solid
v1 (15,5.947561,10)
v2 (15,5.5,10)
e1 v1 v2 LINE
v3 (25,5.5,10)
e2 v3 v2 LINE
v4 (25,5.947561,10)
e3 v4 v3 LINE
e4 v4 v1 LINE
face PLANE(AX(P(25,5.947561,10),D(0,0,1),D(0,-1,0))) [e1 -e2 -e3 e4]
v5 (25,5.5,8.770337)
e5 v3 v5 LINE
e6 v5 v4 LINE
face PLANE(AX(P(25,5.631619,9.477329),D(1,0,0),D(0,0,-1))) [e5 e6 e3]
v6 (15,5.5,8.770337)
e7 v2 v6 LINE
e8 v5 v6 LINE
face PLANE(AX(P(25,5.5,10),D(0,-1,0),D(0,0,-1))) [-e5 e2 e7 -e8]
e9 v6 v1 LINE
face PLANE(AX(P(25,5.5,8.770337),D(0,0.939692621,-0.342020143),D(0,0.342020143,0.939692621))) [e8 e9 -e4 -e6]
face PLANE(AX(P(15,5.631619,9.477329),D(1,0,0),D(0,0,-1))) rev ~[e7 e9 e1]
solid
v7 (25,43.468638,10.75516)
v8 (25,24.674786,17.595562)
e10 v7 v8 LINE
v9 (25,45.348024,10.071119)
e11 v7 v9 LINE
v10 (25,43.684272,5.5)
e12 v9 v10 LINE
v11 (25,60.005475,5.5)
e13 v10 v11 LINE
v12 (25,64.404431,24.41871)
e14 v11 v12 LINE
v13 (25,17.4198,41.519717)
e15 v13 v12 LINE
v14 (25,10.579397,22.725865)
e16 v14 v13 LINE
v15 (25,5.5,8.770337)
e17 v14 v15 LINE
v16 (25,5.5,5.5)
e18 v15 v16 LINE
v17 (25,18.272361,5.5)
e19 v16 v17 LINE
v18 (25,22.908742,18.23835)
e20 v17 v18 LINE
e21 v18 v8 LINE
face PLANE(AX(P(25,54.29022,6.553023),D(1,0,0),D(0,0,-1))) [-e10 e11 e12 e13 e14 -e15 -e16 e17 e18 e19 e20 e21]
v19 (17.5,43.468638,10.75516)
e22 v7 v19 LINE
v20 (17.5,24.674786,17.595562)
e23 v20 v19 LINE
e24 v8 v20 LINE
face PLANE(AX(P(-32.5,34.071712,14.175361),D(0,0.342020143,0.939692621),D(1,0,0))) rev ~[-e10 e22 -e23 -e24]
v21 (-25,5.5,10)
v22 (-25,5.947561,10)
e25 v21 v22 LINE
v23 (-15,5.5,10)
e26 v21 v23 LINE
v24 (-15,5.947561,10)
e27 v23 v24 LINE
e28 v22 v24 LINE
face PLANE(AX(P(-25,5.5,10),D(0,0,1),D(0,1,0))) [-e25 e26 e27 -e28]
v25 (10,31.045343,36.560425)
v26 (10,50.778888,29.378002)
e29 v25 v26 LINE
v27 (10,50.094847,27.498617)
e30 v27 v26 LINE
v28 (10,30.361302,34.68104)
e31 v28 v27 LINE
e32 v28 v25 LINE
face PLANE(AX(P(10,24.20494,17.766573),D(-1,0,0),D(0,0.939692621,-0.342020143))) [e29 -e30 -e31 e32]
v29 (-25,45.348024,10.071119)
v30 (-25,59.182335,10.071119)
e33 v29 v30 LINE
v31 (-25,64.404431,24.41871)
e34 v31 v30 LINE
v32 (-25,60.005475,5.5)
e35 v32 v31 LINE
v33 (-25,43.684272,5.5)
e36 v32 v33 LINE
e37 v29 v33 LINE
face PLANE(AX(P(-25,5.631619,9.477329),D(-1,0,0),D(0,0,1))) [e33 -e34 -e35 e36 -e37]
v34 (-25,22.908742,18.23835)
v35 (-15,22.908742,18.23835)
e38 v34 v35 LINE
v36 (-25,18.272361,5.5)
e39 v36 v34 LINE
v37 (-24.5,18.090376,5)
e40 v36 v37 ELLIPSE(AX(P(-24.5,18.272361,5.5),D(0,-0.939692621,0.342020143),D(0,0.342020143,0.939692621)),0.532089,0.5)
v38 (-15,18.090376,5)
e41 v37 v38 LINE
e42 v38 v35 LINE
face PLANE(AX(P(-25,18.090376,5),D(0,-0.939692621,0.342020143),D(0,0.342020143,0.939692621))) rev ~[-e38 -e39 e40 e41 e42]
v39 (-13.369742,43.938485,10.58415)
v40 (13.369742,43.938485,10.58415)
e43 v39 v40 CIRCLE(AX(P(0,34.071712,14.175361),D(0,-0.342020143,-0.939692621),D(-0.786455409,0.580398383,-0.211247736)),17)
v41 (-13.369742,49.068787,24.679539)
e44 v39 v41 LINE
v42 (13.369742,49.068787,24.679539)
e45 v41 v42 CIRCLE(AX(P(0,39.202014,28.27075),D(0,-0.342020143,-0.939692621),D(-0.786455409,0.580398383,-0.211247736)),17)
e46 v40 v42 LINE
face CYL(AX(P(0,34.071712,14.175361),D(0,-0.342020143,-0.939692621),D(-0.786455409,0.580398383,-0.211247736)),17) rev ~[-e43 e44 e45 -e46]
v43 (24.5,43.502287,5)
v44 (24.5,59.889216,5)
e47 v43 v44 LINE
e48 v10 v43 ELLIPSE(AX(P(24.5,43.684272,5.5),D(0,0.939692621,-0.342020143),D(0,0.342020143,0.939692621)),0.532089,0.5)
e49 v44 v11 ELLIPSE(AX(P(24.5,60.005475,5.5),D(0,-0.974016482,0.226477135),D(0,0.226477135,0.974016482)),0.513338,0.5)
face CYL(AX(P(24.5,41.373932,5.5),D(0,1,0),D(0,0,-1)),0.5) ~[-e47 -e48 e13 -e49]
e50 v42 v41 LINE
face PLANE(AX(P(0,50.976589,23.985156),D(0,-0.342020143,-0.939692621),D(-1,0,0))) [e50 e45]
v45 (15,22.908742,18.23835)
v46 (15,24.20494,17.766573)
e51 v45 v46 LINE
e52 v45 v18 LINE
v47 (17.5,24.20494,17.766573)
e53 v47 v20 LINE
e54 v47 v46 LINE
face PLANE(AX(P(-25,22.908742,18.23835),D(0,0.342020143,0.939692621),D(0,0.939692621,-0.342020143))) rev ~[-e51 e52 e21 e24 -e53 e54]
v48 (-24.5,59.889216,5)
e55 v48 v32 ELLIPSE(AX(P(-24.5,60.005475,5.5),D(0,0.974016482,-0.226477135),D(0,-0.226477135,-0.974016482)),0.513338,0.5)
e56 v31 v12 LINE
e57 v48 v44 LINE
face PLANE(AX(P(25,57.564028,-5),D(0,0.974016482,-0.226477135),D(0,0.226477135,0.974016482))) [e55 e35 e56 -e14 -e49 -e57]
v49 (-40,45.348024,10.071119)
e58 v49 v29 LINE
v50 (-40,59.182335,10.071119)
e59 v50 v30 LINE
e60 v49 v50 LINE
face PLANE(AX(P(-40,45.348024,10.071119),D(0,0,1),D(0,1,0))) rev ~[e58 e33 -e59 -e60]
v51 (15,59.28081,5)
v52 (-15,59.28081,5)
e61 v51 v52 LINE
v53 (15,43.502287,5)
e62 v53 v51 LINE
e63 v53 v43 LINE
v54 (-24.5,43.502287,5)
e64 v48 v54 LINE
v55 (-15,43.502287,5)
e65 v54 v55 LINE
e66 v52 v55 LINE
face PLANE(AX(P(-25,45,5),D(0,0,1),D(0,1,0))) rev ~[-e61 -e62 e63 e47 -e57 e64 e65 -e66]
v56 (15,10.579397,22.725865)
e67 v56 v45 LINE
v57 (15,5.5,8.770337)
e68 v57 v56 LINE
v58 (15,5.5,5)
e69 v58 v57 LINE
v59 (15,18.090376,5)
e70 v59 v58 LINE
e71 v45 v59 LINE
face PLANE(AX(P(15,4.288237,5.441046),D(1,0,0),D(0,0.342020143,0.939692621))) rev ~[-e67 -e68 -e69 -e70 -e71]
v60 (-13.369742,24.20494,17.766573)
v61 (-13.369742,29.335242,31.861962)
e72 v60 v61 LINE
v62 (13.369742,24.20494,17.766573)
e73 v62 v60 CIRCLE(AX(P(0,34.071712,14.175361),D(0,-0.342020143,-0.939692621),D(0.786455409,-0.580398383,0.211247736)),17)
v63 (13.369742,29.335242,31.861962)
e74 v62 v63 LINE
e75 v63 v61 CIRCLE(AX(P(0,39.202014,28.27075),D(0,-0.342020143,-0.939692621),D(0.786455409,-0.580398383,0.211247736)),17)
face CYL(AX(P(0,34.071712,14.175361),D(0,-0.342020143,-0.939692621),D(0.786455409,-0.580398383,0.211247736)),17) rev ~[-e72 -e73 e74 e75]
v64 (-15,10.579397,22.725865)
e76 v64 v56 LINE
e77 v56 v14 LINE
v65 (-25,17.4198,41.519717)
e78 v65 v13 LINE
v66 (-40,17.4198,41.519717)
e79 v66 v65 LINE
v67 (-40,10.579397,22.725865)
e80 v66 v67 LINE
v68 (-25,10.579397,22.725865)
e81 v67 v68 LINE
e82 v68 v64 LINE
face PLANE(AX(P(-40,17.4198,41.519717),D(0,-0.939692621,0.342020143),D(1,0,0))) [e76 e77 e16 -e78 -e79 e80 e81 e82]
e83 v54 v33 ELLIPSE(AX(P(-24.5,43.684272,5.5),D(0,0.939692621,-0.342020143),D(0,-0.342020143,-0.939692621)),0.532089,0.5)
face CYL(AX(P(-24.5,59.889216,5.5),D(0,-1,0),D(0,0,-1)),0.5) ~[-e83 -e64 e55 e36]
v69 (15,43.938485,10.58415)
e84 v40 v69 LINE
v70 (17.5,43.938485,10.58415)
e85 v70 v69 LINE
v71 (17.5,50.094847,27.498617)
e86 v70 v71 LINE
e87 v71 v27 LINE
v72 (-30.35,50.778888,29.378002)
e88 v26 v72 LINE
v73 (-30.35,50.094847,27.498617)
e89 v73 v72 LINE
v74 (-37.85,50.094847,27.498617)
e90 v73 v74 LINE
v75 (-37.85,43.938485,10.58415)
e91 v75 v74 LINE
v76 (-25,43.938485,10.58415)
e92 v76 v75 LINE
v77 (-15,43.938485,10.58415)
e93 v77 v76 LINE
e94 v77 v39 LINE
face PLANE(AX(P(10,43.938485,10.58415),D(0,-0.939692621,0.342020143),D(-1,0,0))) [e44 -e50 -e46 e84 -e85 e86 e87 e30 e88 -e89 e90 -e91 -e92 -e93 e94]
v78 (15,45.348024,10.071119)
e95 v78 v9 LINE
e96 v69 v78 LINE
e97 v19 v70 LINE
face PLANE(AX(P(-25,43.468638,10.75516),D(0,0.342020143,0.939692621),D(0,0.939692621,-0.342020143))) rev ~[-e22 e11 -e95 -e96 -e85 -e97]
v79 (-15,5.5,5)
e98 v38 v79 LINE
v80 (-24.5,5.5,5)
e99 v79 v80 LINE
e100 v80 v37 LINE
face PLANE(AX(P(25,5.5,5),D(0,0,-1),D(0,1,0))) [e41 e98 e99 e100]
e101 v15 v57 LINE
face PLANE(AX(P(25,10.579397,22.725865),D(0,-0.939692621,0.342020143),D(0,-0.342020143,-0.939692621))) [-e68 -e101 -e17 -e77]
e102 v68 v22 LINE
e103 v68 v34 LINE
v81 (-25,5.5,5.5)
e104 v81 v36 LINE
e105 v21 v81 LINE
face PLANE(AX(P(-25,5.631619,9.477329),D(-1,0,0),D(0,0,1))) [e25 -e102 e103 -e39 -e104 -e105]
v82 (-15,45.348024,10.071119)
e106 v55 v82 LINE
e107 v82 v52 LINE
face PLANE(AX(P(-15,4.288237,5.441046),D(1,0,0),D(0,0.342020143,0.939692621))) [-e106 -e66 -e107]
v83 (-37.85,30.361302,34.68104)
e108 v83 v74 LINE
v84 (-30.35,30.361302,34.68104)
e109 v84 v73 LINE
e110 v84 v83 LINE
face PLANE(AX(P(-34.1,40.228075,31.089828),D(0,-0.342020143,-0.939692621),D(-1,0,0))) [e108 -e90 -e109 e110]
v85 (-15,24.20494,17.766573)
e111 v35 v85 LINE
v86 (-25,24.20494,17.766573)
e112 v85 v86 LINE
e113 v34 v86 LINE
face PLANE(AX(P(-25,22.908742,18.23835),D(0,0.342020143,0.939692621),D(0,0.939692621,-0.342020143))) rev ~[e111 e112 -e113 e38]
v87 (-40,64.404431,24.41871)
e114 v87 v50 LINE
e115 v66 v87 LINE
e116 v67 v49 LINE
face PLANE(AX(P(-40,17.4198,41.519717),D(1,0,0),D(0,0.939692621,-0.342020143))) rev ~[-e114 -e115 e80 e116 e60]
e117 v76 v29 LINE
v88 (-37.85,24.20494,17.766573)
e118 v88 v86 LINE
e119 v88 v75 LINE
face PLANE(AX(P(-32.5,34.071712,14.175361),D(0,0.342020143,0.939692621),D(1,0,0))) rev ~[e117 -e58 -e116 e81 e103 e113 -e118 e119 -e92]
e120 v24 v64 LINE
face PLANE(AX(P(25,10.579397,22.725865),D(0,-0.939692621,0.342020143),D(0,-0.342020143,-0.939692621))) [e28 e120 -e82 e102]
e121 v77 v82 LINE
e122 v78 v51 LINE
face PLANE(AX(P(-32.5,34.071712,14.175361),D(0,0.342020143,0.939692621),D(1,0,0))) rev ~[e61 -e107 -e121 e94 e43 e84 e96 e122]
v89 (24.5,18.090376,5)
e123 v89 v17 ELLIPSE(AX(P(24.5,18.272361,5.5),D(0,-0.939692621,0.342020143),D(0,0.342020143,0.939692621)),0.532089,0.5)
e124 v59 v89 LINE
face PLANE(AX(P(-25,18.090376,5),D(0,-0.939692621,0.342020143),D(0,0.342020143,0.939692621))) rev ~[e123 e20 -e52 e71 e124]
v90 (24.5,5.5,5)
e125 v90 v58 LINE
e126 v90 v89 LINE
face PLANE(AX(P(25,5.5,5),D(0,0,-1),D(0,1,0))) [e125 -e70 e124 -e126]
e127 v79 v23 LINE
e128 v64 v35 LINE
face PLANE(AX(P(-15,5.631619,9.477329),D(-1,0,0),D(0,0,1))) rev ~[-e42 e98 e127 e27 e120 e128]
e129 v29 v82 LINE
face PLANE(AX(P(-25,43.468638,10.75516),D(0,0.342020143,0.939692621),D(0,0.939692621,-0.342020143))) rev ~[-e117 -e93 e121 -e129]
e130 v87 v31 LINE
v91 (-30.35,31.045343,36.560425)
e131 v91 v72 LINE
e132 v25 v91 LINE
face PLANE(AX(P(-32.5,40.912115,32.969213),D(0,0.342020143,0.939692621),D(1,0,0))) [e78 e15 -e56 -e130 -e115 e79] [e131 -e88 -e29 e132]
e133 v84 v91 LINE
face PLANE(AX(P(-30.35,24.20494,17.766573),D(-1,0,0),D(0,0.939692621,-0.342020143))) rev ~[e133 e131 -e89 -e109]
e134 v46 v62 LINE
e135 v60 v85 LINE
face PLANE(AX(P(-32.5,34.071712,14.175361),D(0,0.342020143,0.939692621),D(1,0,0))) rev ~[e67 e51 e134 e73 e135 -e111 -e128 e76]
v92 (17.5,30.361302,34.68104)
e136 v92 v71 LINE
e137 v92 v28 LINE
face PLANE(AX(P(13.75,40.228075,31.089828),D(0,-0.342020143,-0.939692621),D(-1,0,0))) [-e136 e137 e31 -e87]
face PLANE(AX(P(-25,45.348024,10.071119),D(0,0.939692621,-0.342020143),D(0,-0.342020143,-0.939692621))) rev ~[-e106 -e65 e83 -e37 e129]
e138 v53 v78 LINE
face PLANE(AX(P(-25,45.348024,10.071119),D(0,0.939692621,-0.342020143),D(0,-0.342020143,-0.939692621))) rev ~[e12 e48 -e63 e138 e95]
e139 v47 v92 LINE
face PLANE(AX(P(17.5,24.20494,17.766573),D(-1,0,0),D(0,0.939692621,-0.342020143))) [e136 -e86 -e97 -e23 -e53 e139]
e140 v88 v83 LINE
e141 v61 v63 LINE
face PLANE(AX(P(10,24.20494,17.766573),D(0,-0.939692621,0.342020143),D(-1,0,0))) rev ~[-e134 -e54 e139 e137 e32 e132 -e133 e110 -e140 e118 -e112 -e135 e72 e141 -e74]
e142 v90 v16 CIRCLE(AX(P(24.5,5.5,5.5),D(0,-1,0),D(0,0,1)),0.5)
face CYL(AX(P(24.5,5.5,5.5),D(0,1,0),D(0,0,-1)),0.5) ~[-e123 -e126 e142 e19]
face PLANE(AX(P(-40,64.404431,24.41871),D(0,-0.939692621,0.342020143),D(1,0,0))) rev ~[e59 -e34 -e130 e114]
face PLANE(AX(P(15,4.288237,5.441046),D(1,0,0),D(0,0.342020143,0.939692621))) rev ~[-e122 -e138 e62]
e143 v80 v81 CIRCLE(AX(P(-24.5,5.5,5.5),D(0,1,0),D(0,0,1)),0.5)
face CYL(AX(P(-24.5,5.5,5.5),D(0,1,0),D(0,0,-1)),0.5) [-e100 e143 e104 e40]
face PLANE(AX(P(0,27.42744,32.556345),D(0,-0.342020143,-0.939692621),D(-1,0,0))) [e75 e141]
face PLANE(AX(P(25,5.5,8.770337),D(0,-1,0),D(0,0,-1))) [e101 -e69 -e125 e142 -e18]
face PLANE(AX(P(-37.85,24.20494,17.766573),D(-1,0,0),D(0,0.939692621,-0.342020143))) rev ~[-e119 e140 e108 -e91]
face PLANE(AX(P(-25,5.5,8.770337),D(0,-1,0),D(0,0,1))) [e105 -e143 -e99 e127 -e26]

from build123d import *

# Parameters (mm, degrees)
SKETCH2_W            = 6
SKETCH2_H            = 6
BOSS_EXTRUDE1_DEPTH  = 5
SKETCH3_W            = 200
SKETCH3_H            = 20
CUT_EXTRUDE1_DEPTH   = 5
SKETCH4_W            = 5
SKETCH4_H            = 5
CUT_EXTRUDE2_DEPTH   = 5
SKETCH6_W            = 100
SKETCH6_H            = 20
BOSS_EXTRUDE2_DEPTH  = 100
BOSS_EXTRUDE3_DEPTH  = 100
CUT_EXTRUDE4_DEPTH   = 100
BOSS_EXTRUDE5_DEPTH  = 100
SKETCH14_R           = 12.5
CUT_EXTRUDE5_DEPTH   = 100
SKETCH15_R           = 15
SKETCH15_R_2         = 12.5
BOSS_EXTRUDE6_DEPTH  = 40
SKETCH16_W           = 50
SKETCH16_H           = 61.072294376
CUT_EXTRUDE10_DEPTH  = 35
SKETCH15_4_R         = 15
SKETCH15_4_R_2       = 12.5
CUT_EXTRUDE11_DEPTH  = 15
BOSS_EXTRUDE7_DEPTH  = 5
SKETCH23_R           = 15
SKETCH23_R_2         = 12.5
BOSS_EXTRUDE8_DEPTH  = 25
SKETCH21_W           = 50
SKETCH21_H           = 55
CUT_EXTRUDE12_DEPTH  = 35
SKETCH22_W           = 50
SKETCH22_H           = 55
BOSS_EXTRUDE9_DEPTH  = 5
SKETCH23_3_R         = 12.5
CUT_EXTRUDE13_DEPTH  = 20
CUT_EXTRUDE15_DEPTH  = 3
CUT_EXTRUDE16_DEPTH  = 5
SKETCH28_3_W         = 50
SKETCH28_3_H         = 5
BOSS_EXTRUDE12_DEPTH = 5
SKETCH31_W           = 50
SKETCH31_H           = 50
SKETCH31_W_2         = 24
SKETCH31_H_2         = 12.7
BOSS_EXTRUDE13_DEPTH = 20
SKETCH34_W           = 50
SKETCH34_H           = 50
CUT_EXTRUDE19_DEPTH  = 105
CUT_EXTRUDE20_DEPTH  = 110
SKETCH38_R           = 15
SKETCH38_R_2         = 12.5
CUT_EXTRUDE21_DEPTH  = 20
BOSS_EXTRUDE15_DEPTH = 50
SKETCH42_W           = 30
SKETCH42_H           = 18.394120173
CUT_EXTRUDE24_DEPTH  = 55
CUT_EXTRUDE25_DEPTH  = 55
FILLET1_R            = 0.5
BOSS_EXTRUDE16_DEPTH = 10
BOSS_EXTRUDE17_DEPTH = 10
CUT_EXTRUDE26_DEPTH  = 50
SKETCH49_W           = 15
SKETCH49_H           = 50
BOSS_EXTRUDE18_DEPTH = 20
CUT_EXTRUDE27_DEPTH  = 15
SKETCH47_W           = 7.5
SKETCH47_H           = 21
CUT_EXTRUDE28_DEPTH  = 18
SKETCH47_4_W         = 40.35
SKETCH47_4_H         = 21
SKETCH47_4_W_2       = 24
SKETCH47_4_H_2       = 12.7
CUT_EXTRUDE29_DEPTH  = 20
CUT_EXTRUDE30_DEPTH  = 15


with BuildPart() as part:
    # Sketch2 → Boss-Extrude1 (new body)
    with BuildSketch(Plane.XY):
        Polygon((-100, 75), (-100, -45), (-60, -45), (-60, -65), (0, -65), (60, -65), (60, -45), (100, -45), (100, 75), align=None)
        with Locations((55, -50)):
            Rectangle(SKETCH2_W, SKETCH2_H, mode=Mode.SUBTRACT)
        with Locations((-55, -50)):
            Rectangle(SKETCH2_W, SKETCH2_H, mode=Mode.SUBTRACT)
    extrude(amount=BOSS_EXTRUDE1_DEPTH)

    # Sketch3 → Cut-Extrude1 (cut)
    with BuildSketch(Plane.XY.offset(5)):
        with Locations((0, 65)):
            Rectangle(SKETCH3_W, SKETCH3_H)
    extrude(amount=-CUT_EXTRUDE1_DEPTH, mode=Mode.SUBTRACT)

    # Sketch4 → Cut-Extrude2 (cut)
    with BuildSketch(Plane(origin=(0, 0, 0), x_dir=(-1, 0, 0), z_dir=(0, 0, -1))):
        with Locations((-97.5, 47.5)):
            Rectangle(SKETCH4_W, SKETCH4_H)
        Polygon((95, 50), (95, 45), (97.5, 45), (100, 45), (100, 50), align=None)
        with Locations((-97.5, 5)):
            Rectangle(SKETCH4_W, SKETCH4_H)
        with Locations((97.5, 5)):
            Rectangle(SKETCH4_W, SKETCH4_H)
        with Locations((-97.5, -37.5)):
            Rectangle(SKETCH4_W, SKETCH4_H)
        Polygon((100, -35), (95, -35), (95, -40), (97.5, -40), (100, -40), align=None)
    extrude(amount=-CUT_EXTRUDE2_DEPTH, mode=Mode.SUBTRACT)

    # Sketch6 → Boss-Extrude2 (add)
    with BuildSketch(Plane(origin=(0, 0, 0), x_dir=(-1, 0, 0), z_dir=(0, 0, -1))):
        with Locations((0, -55)):
            Rectangle(SKETCH6_W, SKETCH6_H)
    extrude(amount=BOSS_EXTRUDE2_DEPTH)

    # Sketch8 → Boss-Extrude3 (add)
    with BuildSketch(Plane(origin=(50, 0, 0), x_dir=(0, 0, -1), z_dir=(1, 0, 0))):
        Polygon((42.17911114, -45), (100, -45), (100, 55), (78.57613456, 55), (63.797824283, 14.396926208), (60.37762285, 5), (56.957421417, -4.396926208), align=None)
    extrude(amount=-BOSS_EXTRUDE3_DEPTH)

    # Sketch12 → Cut-Extrude4 (cut)
    with BuildSketch(Plane(origin=(50, 0, 0), x_dir=(0, 0, -1), z_dir=(1, 0, 0))):
        Polygon((78.57613456, 55), (42.17911114, -45), (47.5, -45), (83.89702342, 55), align=None)
    extrude(amount=-CUT_EXTRUDE4_DEPTH, mode=Mode.SUBTRACT)

    # Sketch13 → Boss-Extrude5 (add)
    with BuildSketch(Plane(origin=(0, -20.530205756, -56.406276742), x_dir=(1, 0, 0), z_dir=(0, 0.3420201432707361, 0.9396926208059023))):
        with BuildLine():
            ThreePointArc((10, 27.168677492), (7.071067812, 34.239745304), (0, 37.168677492))
            ThreePointArc((0, 37.168677492), (-7.071067812, 20.09760968), (10, 27.168677492))
        make_face()
    extrude(amount=BOSS_EXTRUDE5_DEPTH)

    # Sketch14 → Cut-Extrude5 (cut)
    with BuildSketch(Plane(origin=(0, 13.671808571, 37.562985339), x_dir=(1, 0, 0), z_dir=(0, 0.34202014327073604, 0.9396926208059022))):
        with Locations((0, 27.168677492)):
            Circle(SKETCH14_R)
    extrude(amount=-CUT_EXTRUDE5_DEPTH, mode=Mode.SUBTRACT)

    # Sketch15 → Boss-Extrude6 (add)
    with BuildSketch(Plane(origin=(0, 13.671808571, 37.562985339), x_dir=(1, 0, 0), z_dir=(0, 0.3420201432707362, 0.9396926208059023))):
        with Locations((0, 27.168677492)):
            Circle(SKETCH15_R)
        with Locations((0, 27.168677492)):
            Circle(SKETCH15_R_2, mode=Mode.SUBTRACT)
    extrude(amount=-BOSS_EXTRUDE6_DEPTH)

    # Sketch16 → Cut-Extrude10 (cut)
    with BuildSketch(Plane(origin=(0, 0, -30), x_dir=(-1, 0, 0), z_dir=(0, 0, -1))):
        with Locations((0, 30.536147188)):
            Rectangle(SKETCH16_W, SKETCH16_H)
    extrude(amount=-CUT_EXTRUDE10_DEPTH, mode=Mode.SUBTRACT)


with BuildPart() as cut_extrude10_piece_1:
    # of the separate pieces the step leaves, piece 1, a body of its own (cut_extrude10_pieces)
    add(part.part.solids().sort_by_distance((-100, 55, 0))[0])

    # Sketch18 → Boss-Extrude7 (add)
    with BuildSketch(Plane.XY.offset(5)):
        Polygon((30, 55), (25, 55), (25, 0), (-25, 0), (-25, 55), (-30, 55), (-30, -5), (30, -5), (30, 0), align=None)
    extrude(amount=BOSS_EXTRUDE7_DEPTH)



with BuildPart() as cut_extrude10_piece_2:
    # of the separate pieces the step leaves, piece 2, a body of its own (cut_extrude10_pieces)
    add(part.part.solids().sort_by_distance((15, 39.202014327, 28.270750371))[0])

    # Sketch15<4> → Cut-Extrude11 (cut)
    with BuildSketch(Plane(origin=(0, 13.671808571, 37.562985339), x_dir=(1, 0, 0), z_dir=(0, 0.3420201432707362, 0.9396926208059023))):
        with Locations((0, 27.168677492)):
            Circle(SKETCH15_4_R)
        with Locations((0, 27.168677492)):
            Circle(SKETCH15_4_R_2, mode=Mode.SUBTRACT)
    extrude(amount=-CUT_EXTRUDE11_DEPTH, mode=Mode.SUBTRACT)

    # Sketch23 → Boss-Extrude8 (add)
    with BuildSketch(Plane(origin=(0, 8.541506422, 23.467596027), x_dir=(1, 0, 0), z_dir=(0, 0.34202014327073627, 0.9396926208059023))):
        with Locations((0, 27.168677492)):
            Circle(SKETCH23_R)
        with Locations((0, 27.168677492)):
            Circle(SKETCH23_R_2, mode=Mode.SUBTRACT)
    extrude(amount=-BOSS_EXTRUDE8_DEPTH)

    # Sketch21 → Cut-Extrude12 (cut)
    with BuildSketch(Plane(origin=(0, 0, -30), x_dir=(-1, 0, 0), z_dir=(0, 0, -1))):
        with Locations((0, 27.5)):
            Rectangle(SKETCH21_W, SKETCH21_H)
    extrude(amount=-CUT_EXTRUDE12_DEPTH, mode=Mode.SUBTRACT)


with BuildPart() as cut_extrude10_piece_1_1:
    add(cut_extrude10_piece_1.part)

    add(cut_extrude10_piece_2.part)  # Boss-Extrude9 merges Cut-Extrude10 piece 2
    # Sketch22 → Boss-Extrude9 (add)
    with BuildSketch(Plane(origin=(0, 0, 0), x_dir=(-1, 0, 0), z_dir=(0, 0, -1))):
        with Locations((0, 27.5)):
            Rectangle(SKETCH22_W, SKETCH22_H)
    extrude(amount=-BOSS_EXTRUDE9_DEPTH)

    # Sketch23<3> → Cut-Extrude13 (cut)
    with BuildSketch(Plane(origin=(0, 8.541506422, 23.467596027), x_dir=(1, 0, 0), z_dir=(0, 0.34202014327073627, 0.9396926208059023))):
        with Locations((0, 27.168677492)):
            Circle(SKETCH23_3_R)
    extrude(amount=-CUT_EXTRUDE13_DEPTH, mode=Mode.SUBTRACT)

    # Sketch27 → Cut-Extrude15 (cut)
    with BuildSketch(Plane(origin=(0, 8.541506422, 23.467596027), x_dir=(1, 0, 0), z_dir=(0, 0.34202014327073627, 0.9396926208059023))):
        with BuildLine():
            ThreePointArc((2, 42.034746239), (0, 42.168677492), (-2, 42.034746239))
            Line((-2, 42.034746239), (-2, 39.507640171))
            ThreePointArc((-2, 39.507640171), (0, 39.668677492), (2, 39.507640171))
            Line((2, 39.507640171), (2, 42.034746239))
        make_face()
        with BuildLine():
            Line((-12.338962679, 29.168677492), (-14.866068747, 29.168677492))
            ThreePointArc((-14.866068747, 29.168677492), (-15, 27.168677492), (-14.866068747, 25.168677492))
            Line((-14.866068747, 25.168677492), (-12.338962679, 25.168677492))
            ThreePointArc((-12.338962679, 25.168677492), (-12.5, 27.168677492), (-12.338962679, 29.168677492))
        make_face()
        with BuildLine():
            ThreePointArc((14.866068747, 25.168677492), (15, 27.168677492), (14.866068747, 29.168677492))
            Line((14.866068747, 29.168677492), (12.338962679, 29.168677492))
            ThreePointArc((12.338962679, 29.168677492), (12.5, 27.168677492), (12.338962679, 25.168677492))
            Line((12.338962679, 25.168677492), (14.866068747, 25.168677492))
        make_face()
        with BuildLine():
            ThreePointArc((2, 14.829714813), (0, 14.668677492), (-2, 14.829714813))
            Line((-2, 14.829714813), (-2, 12.302608744))
            ThreePointArc((-2, 12.302608744), (0, 12.168677492), (2, 12.302608744))
            Line((2, 12.302608744), (2, 14.829714813))
        make_face()
    extrude(amount=-CUT_EXTRUDE15_DEPTH, mode=Mode.SUBTRACT)

    # Sketch28 → Cut-Extrude16 (cut)
    with BuildSketch(Plane.XY.offset(10)):
        Polygon((25, 0), (-25, 0), (-30, 0), (-30, -5), (30, -5), (30, 0), align=None)
    extrude(amount=-CUT_EXTRUDE16_DEPTH, mode=Mode.SUBTRACT)

    # Sketch28<3> → Boss-Extrude12 (add)
    with BuildSketch(Plane.XY.offset(10)):
        with Locations((0, 2.5)):
            Rectangle(SKETCH28_3_W, SKETCH28_3_H)
    extrude(amount=-BOSS_EXTRUDE12_DEPTH)

    # Sketch31 → Boss-Extrude13 (add)
    with BuildSketch(Plane(origin=(0, 8.541506422, 23.467596027), x_dir=(1, 0, 0), z_dir=(0, 0.34202014327073627, 0.9396926208059023))):
        with Locations((0, 27.168677492)):
            Rectangle(SKETCH31_W, SKETCH31_H)
        with Locations((-5.65, 27.168677492)):
            Rectangle(SKETCH31_W_2, SKETCH31_H_2, mode=Mode.SUBTRACT)
    extrude(amount=BOSS_EXTRUDE13_DEPTH)

    # Sketch34 → Cut-Extrude19 (cut)
    with BuildSketch(Plane(origin=(0, 0, -100), x_dir=(-1, 0, 0), z_dir=(0, 0, -1))):
        Polygon((-100, 55), (-100, -65), (100, -65), (100, 55), (30, 55), (30, 0), (-30, 0), (-30, 55), align=None)
        with Locations((0, 30)):
            Rectangle(SKETCH34_W, SKETCH34_H)
    extrude(amount=-CUT_EXTRUDE19_DEPTH, mode=Mode.SUBTRACT)


with BuildPart() as cut_extrude19_piece_1:
    # of the separate pieces the step leaves, piece 1, a body of its own (cut_extrude19_pieces)
    add(cut_extrude10_piece_1_1.part.solids().sort_by_distance((-30, 55, 0))[0])


with BuildPart() as cut_extrude19_piece_2:
    # of the separate pieces the step leaves, piece 2, a body of its own (cut_extrude19_pieces)
    add(cut_extrude10_piece_1_1.part.solids().sort_by_distance((30, 55, -100))[0])


with BuildPart() as cut_extrude20_tool:
    # Sketch34<3> → Cut-Extrude20 (new body)
    with BuildSketch(Plane(origin=(0, 0, -100), x_dir=(-1, 0, 0), z_dir=(0, 0, -1))):
        Polygon((-25, 55), (-30, 55), (-30, 0), (30, 0), (30, 55), (25, 55), (25, 5), (-25, 5), align=None)
    extrude(amount=-CUT_EXTRUDE20_DEPTH)


with BuildPart() as cut_extrude19_piece_1_1:
    add(cut_extrude19_piece_1.part)

    # Cut-Extrude20: cut by cut_extrude20_tool
    add(cut_extrude20_tool.part, mode=Mode.SUBTRACT)

    # Sketch38 → Cut-Extrude21 (cut)
    with BuildSketch(Plane(origin=(0, 1.701103557, 4.673743611), x_dir=(-1, 0, 0), z_dir=(0, -0.3420201432707364, -0.9396926208059022))):
        with Locations((0, 27.168677492)):
            Circle(SKETCH38_R)
        with Locations((0, 27.168677492)):
            Circle(SKETCH38_R_2, mode=Mode.SUBTRACT)
    extrude(amount=-CUT_EXTRUDE21_DEPTH, mode=Mode.SUBTRACT)

    # Sketch36 → Boss-Extrude15 (add)
    with BuildSketch(Plane(origin=(25, 0, 0), x_dir=(0, 0, -1), z_dir=(1, 0, 0))):
        Polygon((5, 57.564027698), (-24.418709893, 64.404430564), (-5.624857477, 57.564027698), (-10.755159626, 43.468638386), (-5, 41.373931589), (-5, 55), (0, 55), (0, 45), (5, 45), align=None)
        Polygon((-17.595562491, 24.67478597), (-22.72586464, 10.579396658), (-8.770337016, 5.5), (-5, 5.5), (-5, 20.09037614), align=None)
    extrude(amount=-BOSS_EXTRUDE15_DEPTH)

    # Sketch42 → Cut-Extrude24 (cut)
    with BuildSketch(Plane(origin=(0, 2.037890236, -0.741731386), x_dir=(1, 0, 0), z_dir=(0, -0.9396926208059021, 0.3420201432707363))):
        with Locations((0, 15.776633978)):
            Rectangle(SKETCH42_W, SKETCH42_H)
    extrude(amount=-CUT_EXTRUDE24_DEPTH, mode=Mode.SUBTRACT)

    # Sketch43 → Cut-Extrude25 (cut)
    with BuildSketch(Plane.ZY.offset(25)):
        Polygon((5, 55), (5, 64.404430564), (-5, 64.404430564), (-5, 45), (5, 45), align=None)
    extrude(amount=-CUT_EXTRUDE25_DEPTH, mode=Mode.SUBTRACT)

    # Fillet1
    fillet1_edges = [cut_extrude19_piece_1_1.edges().sort_by_distance(p)[0] for p in [
        (-25, 50.6315736, 5),
        (-25, 12.79518807, 5),
        (25, 12.79518807, 5),
        (25, 50.6315736, 5),
    ]]
    fillet(fillet1_edges, radius=FILLET1_R)

    # Sketch45 → Boss-Extrude16 (add)
    with BuildSketch(Plane.ZY.offset(25)):
        Polygon((10, 5.947560724), (8.770337016, 5.5), (10, 5.5), align=None)
    extrude(amount=-BOSS_EXTRUDE16_DEPTH)

    # Sketch48 → Cut-Extrude26 (cut)
    with BuildSketch(Plane.ZY.offset(25)):
        Polygon((5, 41.373931589), (10.755159626, 43.468638386), (10.071119339, 45.348023628), (5, 43.502287134), align=None)
        Polygon((5, 20.09037614), (5, 18.09037614), (18.238350101, 22.908741527), (17.595562491, 24.67478597), align=None)
    extrude(amount=-CUT_EXTRUDE26_DEPTH, mode=Mode.SUBTRACT)

    # Sketch49 → Boss-Extrude18 (add)
    with BuildSketch(Plane(origin=(0, 15.381909287, 42.261448443), x_dir=(1, 0, 0), z_dir=(0, 0.3420201432707363, 0.9396926208059021))):
        with Locations((-32.5, 27.168677492)):
            Rectangle(SKETCH49_W, SKETCH49_H)
    extrude(amount=-BOSS_EXTRUDE18_DEPTH)

    # Sketch50 → Cut-Extrude27 (cut)
    with BuildSketch(Plane.ZY.offset(40)):
        Polygon((10.071119339, 45.348023628), (10.071119339, 59.18233467), (5.624857477, 57.564027698), align=None)
    extrude(amount=-CUT_EXTRUDE27_DEPTH, mode=Mode.SUBTRACT)

    # Sketch47 → Cut-Extrude28 (cut)
    with BuildSketch(Plane(origin=(0, 8.541506422, 23.467596027), x_dir=(-1, 0, 0), z_dir=(0, -0.3420201432707363, -0.9396926208059021))):
        with Locations((-13.75, 27.168677492)):
            Rectangle(SKETCH47_W, SKETCH47_H)
        with Locations((34.1, 27.168677492)):
            Rectangle(SKETCH47_W, SKETCH47_H)
    extrude(amount=-CUT_EXTRUDE28_DEPTH, mode=Mode.SUBTRACT)

    # Sketch47<4> → Cut-Extrude29 (cut)
    with BuildSketch(Plane(origin=(0, 8.541506422, 23.467596027), x_dir=(-1, 0, 0), z_dir=(0, -0.3420201432707363, -0.9396926208059021))):
        with Locations((10.175, 27.168677492)):
            Rectangle(SKETCH47_4_W, SKETCH47_4_H)
        with Locations((5.65, 27.168677492)):
            Rectangle(SKETCH47_4_W_2, SKETCH47_4_H_2, mode=Mode.SUBTRACT)
    extrude(amount=-CUT_EXTRUDE29_DEPTH, mode=Mode.SUBTRACT)

    # Sketch47<5> → Cut-Extrude30 (cut)
    with BuildSketch(Plane(origin=(0, 8.541506422, 23.467596027), x_dir=(-1, 0, 0), z_dir=(0, -0.3420201432707363, -0.9396926208059021))):
        with BuildLine():
            Line((-13.369741957, 37.668677492), (13.369741957, 37.668677492))
            ThreePointArc((13.369741957, 37.668677492), (0, 44.168677492), (-13.369741957, 37.668677492))
        make_face()
        with BuildLine():
            Line((13.369741957, 16.668677492), (-13.369741957, 16.668677492))
            ThreePointArc((-13.369741957, 16.668677492), (0, 10.168677492), (13.369741957, 16.668677492))
        make_face()
    extrude(amount=-CUT_EXTRUDE30_DEPTH, mode=Mode.SUBTRACT)


with BuildPart() as cut_extrude19_piece_2_1:
    add(cut_extrude19_piece_2.part)

    # Cut-Extrude20: cut by cut_extrude20_tool
    add(cut_extrude20_tool.part, mode=Mode.SUBTRACT)


with BuildPart() as body_2:
    # Sketch46 → Boss-Extrude17 (new body)
    with BuildSketch(Plane(origin=(25, 0, 0), x_dir=(0, 0, -1), z_dir=(1, 0, 0))):
        Polygon((-10, 5.5), (-8.770337016, 5.5), (-10, 5.947560724), align=None)
    extrude(amount=-BOSS_EXTRUDE17_DEPTH)


solid = Compound([cut_extrude19_piece_1_1.part, body_2.part])
